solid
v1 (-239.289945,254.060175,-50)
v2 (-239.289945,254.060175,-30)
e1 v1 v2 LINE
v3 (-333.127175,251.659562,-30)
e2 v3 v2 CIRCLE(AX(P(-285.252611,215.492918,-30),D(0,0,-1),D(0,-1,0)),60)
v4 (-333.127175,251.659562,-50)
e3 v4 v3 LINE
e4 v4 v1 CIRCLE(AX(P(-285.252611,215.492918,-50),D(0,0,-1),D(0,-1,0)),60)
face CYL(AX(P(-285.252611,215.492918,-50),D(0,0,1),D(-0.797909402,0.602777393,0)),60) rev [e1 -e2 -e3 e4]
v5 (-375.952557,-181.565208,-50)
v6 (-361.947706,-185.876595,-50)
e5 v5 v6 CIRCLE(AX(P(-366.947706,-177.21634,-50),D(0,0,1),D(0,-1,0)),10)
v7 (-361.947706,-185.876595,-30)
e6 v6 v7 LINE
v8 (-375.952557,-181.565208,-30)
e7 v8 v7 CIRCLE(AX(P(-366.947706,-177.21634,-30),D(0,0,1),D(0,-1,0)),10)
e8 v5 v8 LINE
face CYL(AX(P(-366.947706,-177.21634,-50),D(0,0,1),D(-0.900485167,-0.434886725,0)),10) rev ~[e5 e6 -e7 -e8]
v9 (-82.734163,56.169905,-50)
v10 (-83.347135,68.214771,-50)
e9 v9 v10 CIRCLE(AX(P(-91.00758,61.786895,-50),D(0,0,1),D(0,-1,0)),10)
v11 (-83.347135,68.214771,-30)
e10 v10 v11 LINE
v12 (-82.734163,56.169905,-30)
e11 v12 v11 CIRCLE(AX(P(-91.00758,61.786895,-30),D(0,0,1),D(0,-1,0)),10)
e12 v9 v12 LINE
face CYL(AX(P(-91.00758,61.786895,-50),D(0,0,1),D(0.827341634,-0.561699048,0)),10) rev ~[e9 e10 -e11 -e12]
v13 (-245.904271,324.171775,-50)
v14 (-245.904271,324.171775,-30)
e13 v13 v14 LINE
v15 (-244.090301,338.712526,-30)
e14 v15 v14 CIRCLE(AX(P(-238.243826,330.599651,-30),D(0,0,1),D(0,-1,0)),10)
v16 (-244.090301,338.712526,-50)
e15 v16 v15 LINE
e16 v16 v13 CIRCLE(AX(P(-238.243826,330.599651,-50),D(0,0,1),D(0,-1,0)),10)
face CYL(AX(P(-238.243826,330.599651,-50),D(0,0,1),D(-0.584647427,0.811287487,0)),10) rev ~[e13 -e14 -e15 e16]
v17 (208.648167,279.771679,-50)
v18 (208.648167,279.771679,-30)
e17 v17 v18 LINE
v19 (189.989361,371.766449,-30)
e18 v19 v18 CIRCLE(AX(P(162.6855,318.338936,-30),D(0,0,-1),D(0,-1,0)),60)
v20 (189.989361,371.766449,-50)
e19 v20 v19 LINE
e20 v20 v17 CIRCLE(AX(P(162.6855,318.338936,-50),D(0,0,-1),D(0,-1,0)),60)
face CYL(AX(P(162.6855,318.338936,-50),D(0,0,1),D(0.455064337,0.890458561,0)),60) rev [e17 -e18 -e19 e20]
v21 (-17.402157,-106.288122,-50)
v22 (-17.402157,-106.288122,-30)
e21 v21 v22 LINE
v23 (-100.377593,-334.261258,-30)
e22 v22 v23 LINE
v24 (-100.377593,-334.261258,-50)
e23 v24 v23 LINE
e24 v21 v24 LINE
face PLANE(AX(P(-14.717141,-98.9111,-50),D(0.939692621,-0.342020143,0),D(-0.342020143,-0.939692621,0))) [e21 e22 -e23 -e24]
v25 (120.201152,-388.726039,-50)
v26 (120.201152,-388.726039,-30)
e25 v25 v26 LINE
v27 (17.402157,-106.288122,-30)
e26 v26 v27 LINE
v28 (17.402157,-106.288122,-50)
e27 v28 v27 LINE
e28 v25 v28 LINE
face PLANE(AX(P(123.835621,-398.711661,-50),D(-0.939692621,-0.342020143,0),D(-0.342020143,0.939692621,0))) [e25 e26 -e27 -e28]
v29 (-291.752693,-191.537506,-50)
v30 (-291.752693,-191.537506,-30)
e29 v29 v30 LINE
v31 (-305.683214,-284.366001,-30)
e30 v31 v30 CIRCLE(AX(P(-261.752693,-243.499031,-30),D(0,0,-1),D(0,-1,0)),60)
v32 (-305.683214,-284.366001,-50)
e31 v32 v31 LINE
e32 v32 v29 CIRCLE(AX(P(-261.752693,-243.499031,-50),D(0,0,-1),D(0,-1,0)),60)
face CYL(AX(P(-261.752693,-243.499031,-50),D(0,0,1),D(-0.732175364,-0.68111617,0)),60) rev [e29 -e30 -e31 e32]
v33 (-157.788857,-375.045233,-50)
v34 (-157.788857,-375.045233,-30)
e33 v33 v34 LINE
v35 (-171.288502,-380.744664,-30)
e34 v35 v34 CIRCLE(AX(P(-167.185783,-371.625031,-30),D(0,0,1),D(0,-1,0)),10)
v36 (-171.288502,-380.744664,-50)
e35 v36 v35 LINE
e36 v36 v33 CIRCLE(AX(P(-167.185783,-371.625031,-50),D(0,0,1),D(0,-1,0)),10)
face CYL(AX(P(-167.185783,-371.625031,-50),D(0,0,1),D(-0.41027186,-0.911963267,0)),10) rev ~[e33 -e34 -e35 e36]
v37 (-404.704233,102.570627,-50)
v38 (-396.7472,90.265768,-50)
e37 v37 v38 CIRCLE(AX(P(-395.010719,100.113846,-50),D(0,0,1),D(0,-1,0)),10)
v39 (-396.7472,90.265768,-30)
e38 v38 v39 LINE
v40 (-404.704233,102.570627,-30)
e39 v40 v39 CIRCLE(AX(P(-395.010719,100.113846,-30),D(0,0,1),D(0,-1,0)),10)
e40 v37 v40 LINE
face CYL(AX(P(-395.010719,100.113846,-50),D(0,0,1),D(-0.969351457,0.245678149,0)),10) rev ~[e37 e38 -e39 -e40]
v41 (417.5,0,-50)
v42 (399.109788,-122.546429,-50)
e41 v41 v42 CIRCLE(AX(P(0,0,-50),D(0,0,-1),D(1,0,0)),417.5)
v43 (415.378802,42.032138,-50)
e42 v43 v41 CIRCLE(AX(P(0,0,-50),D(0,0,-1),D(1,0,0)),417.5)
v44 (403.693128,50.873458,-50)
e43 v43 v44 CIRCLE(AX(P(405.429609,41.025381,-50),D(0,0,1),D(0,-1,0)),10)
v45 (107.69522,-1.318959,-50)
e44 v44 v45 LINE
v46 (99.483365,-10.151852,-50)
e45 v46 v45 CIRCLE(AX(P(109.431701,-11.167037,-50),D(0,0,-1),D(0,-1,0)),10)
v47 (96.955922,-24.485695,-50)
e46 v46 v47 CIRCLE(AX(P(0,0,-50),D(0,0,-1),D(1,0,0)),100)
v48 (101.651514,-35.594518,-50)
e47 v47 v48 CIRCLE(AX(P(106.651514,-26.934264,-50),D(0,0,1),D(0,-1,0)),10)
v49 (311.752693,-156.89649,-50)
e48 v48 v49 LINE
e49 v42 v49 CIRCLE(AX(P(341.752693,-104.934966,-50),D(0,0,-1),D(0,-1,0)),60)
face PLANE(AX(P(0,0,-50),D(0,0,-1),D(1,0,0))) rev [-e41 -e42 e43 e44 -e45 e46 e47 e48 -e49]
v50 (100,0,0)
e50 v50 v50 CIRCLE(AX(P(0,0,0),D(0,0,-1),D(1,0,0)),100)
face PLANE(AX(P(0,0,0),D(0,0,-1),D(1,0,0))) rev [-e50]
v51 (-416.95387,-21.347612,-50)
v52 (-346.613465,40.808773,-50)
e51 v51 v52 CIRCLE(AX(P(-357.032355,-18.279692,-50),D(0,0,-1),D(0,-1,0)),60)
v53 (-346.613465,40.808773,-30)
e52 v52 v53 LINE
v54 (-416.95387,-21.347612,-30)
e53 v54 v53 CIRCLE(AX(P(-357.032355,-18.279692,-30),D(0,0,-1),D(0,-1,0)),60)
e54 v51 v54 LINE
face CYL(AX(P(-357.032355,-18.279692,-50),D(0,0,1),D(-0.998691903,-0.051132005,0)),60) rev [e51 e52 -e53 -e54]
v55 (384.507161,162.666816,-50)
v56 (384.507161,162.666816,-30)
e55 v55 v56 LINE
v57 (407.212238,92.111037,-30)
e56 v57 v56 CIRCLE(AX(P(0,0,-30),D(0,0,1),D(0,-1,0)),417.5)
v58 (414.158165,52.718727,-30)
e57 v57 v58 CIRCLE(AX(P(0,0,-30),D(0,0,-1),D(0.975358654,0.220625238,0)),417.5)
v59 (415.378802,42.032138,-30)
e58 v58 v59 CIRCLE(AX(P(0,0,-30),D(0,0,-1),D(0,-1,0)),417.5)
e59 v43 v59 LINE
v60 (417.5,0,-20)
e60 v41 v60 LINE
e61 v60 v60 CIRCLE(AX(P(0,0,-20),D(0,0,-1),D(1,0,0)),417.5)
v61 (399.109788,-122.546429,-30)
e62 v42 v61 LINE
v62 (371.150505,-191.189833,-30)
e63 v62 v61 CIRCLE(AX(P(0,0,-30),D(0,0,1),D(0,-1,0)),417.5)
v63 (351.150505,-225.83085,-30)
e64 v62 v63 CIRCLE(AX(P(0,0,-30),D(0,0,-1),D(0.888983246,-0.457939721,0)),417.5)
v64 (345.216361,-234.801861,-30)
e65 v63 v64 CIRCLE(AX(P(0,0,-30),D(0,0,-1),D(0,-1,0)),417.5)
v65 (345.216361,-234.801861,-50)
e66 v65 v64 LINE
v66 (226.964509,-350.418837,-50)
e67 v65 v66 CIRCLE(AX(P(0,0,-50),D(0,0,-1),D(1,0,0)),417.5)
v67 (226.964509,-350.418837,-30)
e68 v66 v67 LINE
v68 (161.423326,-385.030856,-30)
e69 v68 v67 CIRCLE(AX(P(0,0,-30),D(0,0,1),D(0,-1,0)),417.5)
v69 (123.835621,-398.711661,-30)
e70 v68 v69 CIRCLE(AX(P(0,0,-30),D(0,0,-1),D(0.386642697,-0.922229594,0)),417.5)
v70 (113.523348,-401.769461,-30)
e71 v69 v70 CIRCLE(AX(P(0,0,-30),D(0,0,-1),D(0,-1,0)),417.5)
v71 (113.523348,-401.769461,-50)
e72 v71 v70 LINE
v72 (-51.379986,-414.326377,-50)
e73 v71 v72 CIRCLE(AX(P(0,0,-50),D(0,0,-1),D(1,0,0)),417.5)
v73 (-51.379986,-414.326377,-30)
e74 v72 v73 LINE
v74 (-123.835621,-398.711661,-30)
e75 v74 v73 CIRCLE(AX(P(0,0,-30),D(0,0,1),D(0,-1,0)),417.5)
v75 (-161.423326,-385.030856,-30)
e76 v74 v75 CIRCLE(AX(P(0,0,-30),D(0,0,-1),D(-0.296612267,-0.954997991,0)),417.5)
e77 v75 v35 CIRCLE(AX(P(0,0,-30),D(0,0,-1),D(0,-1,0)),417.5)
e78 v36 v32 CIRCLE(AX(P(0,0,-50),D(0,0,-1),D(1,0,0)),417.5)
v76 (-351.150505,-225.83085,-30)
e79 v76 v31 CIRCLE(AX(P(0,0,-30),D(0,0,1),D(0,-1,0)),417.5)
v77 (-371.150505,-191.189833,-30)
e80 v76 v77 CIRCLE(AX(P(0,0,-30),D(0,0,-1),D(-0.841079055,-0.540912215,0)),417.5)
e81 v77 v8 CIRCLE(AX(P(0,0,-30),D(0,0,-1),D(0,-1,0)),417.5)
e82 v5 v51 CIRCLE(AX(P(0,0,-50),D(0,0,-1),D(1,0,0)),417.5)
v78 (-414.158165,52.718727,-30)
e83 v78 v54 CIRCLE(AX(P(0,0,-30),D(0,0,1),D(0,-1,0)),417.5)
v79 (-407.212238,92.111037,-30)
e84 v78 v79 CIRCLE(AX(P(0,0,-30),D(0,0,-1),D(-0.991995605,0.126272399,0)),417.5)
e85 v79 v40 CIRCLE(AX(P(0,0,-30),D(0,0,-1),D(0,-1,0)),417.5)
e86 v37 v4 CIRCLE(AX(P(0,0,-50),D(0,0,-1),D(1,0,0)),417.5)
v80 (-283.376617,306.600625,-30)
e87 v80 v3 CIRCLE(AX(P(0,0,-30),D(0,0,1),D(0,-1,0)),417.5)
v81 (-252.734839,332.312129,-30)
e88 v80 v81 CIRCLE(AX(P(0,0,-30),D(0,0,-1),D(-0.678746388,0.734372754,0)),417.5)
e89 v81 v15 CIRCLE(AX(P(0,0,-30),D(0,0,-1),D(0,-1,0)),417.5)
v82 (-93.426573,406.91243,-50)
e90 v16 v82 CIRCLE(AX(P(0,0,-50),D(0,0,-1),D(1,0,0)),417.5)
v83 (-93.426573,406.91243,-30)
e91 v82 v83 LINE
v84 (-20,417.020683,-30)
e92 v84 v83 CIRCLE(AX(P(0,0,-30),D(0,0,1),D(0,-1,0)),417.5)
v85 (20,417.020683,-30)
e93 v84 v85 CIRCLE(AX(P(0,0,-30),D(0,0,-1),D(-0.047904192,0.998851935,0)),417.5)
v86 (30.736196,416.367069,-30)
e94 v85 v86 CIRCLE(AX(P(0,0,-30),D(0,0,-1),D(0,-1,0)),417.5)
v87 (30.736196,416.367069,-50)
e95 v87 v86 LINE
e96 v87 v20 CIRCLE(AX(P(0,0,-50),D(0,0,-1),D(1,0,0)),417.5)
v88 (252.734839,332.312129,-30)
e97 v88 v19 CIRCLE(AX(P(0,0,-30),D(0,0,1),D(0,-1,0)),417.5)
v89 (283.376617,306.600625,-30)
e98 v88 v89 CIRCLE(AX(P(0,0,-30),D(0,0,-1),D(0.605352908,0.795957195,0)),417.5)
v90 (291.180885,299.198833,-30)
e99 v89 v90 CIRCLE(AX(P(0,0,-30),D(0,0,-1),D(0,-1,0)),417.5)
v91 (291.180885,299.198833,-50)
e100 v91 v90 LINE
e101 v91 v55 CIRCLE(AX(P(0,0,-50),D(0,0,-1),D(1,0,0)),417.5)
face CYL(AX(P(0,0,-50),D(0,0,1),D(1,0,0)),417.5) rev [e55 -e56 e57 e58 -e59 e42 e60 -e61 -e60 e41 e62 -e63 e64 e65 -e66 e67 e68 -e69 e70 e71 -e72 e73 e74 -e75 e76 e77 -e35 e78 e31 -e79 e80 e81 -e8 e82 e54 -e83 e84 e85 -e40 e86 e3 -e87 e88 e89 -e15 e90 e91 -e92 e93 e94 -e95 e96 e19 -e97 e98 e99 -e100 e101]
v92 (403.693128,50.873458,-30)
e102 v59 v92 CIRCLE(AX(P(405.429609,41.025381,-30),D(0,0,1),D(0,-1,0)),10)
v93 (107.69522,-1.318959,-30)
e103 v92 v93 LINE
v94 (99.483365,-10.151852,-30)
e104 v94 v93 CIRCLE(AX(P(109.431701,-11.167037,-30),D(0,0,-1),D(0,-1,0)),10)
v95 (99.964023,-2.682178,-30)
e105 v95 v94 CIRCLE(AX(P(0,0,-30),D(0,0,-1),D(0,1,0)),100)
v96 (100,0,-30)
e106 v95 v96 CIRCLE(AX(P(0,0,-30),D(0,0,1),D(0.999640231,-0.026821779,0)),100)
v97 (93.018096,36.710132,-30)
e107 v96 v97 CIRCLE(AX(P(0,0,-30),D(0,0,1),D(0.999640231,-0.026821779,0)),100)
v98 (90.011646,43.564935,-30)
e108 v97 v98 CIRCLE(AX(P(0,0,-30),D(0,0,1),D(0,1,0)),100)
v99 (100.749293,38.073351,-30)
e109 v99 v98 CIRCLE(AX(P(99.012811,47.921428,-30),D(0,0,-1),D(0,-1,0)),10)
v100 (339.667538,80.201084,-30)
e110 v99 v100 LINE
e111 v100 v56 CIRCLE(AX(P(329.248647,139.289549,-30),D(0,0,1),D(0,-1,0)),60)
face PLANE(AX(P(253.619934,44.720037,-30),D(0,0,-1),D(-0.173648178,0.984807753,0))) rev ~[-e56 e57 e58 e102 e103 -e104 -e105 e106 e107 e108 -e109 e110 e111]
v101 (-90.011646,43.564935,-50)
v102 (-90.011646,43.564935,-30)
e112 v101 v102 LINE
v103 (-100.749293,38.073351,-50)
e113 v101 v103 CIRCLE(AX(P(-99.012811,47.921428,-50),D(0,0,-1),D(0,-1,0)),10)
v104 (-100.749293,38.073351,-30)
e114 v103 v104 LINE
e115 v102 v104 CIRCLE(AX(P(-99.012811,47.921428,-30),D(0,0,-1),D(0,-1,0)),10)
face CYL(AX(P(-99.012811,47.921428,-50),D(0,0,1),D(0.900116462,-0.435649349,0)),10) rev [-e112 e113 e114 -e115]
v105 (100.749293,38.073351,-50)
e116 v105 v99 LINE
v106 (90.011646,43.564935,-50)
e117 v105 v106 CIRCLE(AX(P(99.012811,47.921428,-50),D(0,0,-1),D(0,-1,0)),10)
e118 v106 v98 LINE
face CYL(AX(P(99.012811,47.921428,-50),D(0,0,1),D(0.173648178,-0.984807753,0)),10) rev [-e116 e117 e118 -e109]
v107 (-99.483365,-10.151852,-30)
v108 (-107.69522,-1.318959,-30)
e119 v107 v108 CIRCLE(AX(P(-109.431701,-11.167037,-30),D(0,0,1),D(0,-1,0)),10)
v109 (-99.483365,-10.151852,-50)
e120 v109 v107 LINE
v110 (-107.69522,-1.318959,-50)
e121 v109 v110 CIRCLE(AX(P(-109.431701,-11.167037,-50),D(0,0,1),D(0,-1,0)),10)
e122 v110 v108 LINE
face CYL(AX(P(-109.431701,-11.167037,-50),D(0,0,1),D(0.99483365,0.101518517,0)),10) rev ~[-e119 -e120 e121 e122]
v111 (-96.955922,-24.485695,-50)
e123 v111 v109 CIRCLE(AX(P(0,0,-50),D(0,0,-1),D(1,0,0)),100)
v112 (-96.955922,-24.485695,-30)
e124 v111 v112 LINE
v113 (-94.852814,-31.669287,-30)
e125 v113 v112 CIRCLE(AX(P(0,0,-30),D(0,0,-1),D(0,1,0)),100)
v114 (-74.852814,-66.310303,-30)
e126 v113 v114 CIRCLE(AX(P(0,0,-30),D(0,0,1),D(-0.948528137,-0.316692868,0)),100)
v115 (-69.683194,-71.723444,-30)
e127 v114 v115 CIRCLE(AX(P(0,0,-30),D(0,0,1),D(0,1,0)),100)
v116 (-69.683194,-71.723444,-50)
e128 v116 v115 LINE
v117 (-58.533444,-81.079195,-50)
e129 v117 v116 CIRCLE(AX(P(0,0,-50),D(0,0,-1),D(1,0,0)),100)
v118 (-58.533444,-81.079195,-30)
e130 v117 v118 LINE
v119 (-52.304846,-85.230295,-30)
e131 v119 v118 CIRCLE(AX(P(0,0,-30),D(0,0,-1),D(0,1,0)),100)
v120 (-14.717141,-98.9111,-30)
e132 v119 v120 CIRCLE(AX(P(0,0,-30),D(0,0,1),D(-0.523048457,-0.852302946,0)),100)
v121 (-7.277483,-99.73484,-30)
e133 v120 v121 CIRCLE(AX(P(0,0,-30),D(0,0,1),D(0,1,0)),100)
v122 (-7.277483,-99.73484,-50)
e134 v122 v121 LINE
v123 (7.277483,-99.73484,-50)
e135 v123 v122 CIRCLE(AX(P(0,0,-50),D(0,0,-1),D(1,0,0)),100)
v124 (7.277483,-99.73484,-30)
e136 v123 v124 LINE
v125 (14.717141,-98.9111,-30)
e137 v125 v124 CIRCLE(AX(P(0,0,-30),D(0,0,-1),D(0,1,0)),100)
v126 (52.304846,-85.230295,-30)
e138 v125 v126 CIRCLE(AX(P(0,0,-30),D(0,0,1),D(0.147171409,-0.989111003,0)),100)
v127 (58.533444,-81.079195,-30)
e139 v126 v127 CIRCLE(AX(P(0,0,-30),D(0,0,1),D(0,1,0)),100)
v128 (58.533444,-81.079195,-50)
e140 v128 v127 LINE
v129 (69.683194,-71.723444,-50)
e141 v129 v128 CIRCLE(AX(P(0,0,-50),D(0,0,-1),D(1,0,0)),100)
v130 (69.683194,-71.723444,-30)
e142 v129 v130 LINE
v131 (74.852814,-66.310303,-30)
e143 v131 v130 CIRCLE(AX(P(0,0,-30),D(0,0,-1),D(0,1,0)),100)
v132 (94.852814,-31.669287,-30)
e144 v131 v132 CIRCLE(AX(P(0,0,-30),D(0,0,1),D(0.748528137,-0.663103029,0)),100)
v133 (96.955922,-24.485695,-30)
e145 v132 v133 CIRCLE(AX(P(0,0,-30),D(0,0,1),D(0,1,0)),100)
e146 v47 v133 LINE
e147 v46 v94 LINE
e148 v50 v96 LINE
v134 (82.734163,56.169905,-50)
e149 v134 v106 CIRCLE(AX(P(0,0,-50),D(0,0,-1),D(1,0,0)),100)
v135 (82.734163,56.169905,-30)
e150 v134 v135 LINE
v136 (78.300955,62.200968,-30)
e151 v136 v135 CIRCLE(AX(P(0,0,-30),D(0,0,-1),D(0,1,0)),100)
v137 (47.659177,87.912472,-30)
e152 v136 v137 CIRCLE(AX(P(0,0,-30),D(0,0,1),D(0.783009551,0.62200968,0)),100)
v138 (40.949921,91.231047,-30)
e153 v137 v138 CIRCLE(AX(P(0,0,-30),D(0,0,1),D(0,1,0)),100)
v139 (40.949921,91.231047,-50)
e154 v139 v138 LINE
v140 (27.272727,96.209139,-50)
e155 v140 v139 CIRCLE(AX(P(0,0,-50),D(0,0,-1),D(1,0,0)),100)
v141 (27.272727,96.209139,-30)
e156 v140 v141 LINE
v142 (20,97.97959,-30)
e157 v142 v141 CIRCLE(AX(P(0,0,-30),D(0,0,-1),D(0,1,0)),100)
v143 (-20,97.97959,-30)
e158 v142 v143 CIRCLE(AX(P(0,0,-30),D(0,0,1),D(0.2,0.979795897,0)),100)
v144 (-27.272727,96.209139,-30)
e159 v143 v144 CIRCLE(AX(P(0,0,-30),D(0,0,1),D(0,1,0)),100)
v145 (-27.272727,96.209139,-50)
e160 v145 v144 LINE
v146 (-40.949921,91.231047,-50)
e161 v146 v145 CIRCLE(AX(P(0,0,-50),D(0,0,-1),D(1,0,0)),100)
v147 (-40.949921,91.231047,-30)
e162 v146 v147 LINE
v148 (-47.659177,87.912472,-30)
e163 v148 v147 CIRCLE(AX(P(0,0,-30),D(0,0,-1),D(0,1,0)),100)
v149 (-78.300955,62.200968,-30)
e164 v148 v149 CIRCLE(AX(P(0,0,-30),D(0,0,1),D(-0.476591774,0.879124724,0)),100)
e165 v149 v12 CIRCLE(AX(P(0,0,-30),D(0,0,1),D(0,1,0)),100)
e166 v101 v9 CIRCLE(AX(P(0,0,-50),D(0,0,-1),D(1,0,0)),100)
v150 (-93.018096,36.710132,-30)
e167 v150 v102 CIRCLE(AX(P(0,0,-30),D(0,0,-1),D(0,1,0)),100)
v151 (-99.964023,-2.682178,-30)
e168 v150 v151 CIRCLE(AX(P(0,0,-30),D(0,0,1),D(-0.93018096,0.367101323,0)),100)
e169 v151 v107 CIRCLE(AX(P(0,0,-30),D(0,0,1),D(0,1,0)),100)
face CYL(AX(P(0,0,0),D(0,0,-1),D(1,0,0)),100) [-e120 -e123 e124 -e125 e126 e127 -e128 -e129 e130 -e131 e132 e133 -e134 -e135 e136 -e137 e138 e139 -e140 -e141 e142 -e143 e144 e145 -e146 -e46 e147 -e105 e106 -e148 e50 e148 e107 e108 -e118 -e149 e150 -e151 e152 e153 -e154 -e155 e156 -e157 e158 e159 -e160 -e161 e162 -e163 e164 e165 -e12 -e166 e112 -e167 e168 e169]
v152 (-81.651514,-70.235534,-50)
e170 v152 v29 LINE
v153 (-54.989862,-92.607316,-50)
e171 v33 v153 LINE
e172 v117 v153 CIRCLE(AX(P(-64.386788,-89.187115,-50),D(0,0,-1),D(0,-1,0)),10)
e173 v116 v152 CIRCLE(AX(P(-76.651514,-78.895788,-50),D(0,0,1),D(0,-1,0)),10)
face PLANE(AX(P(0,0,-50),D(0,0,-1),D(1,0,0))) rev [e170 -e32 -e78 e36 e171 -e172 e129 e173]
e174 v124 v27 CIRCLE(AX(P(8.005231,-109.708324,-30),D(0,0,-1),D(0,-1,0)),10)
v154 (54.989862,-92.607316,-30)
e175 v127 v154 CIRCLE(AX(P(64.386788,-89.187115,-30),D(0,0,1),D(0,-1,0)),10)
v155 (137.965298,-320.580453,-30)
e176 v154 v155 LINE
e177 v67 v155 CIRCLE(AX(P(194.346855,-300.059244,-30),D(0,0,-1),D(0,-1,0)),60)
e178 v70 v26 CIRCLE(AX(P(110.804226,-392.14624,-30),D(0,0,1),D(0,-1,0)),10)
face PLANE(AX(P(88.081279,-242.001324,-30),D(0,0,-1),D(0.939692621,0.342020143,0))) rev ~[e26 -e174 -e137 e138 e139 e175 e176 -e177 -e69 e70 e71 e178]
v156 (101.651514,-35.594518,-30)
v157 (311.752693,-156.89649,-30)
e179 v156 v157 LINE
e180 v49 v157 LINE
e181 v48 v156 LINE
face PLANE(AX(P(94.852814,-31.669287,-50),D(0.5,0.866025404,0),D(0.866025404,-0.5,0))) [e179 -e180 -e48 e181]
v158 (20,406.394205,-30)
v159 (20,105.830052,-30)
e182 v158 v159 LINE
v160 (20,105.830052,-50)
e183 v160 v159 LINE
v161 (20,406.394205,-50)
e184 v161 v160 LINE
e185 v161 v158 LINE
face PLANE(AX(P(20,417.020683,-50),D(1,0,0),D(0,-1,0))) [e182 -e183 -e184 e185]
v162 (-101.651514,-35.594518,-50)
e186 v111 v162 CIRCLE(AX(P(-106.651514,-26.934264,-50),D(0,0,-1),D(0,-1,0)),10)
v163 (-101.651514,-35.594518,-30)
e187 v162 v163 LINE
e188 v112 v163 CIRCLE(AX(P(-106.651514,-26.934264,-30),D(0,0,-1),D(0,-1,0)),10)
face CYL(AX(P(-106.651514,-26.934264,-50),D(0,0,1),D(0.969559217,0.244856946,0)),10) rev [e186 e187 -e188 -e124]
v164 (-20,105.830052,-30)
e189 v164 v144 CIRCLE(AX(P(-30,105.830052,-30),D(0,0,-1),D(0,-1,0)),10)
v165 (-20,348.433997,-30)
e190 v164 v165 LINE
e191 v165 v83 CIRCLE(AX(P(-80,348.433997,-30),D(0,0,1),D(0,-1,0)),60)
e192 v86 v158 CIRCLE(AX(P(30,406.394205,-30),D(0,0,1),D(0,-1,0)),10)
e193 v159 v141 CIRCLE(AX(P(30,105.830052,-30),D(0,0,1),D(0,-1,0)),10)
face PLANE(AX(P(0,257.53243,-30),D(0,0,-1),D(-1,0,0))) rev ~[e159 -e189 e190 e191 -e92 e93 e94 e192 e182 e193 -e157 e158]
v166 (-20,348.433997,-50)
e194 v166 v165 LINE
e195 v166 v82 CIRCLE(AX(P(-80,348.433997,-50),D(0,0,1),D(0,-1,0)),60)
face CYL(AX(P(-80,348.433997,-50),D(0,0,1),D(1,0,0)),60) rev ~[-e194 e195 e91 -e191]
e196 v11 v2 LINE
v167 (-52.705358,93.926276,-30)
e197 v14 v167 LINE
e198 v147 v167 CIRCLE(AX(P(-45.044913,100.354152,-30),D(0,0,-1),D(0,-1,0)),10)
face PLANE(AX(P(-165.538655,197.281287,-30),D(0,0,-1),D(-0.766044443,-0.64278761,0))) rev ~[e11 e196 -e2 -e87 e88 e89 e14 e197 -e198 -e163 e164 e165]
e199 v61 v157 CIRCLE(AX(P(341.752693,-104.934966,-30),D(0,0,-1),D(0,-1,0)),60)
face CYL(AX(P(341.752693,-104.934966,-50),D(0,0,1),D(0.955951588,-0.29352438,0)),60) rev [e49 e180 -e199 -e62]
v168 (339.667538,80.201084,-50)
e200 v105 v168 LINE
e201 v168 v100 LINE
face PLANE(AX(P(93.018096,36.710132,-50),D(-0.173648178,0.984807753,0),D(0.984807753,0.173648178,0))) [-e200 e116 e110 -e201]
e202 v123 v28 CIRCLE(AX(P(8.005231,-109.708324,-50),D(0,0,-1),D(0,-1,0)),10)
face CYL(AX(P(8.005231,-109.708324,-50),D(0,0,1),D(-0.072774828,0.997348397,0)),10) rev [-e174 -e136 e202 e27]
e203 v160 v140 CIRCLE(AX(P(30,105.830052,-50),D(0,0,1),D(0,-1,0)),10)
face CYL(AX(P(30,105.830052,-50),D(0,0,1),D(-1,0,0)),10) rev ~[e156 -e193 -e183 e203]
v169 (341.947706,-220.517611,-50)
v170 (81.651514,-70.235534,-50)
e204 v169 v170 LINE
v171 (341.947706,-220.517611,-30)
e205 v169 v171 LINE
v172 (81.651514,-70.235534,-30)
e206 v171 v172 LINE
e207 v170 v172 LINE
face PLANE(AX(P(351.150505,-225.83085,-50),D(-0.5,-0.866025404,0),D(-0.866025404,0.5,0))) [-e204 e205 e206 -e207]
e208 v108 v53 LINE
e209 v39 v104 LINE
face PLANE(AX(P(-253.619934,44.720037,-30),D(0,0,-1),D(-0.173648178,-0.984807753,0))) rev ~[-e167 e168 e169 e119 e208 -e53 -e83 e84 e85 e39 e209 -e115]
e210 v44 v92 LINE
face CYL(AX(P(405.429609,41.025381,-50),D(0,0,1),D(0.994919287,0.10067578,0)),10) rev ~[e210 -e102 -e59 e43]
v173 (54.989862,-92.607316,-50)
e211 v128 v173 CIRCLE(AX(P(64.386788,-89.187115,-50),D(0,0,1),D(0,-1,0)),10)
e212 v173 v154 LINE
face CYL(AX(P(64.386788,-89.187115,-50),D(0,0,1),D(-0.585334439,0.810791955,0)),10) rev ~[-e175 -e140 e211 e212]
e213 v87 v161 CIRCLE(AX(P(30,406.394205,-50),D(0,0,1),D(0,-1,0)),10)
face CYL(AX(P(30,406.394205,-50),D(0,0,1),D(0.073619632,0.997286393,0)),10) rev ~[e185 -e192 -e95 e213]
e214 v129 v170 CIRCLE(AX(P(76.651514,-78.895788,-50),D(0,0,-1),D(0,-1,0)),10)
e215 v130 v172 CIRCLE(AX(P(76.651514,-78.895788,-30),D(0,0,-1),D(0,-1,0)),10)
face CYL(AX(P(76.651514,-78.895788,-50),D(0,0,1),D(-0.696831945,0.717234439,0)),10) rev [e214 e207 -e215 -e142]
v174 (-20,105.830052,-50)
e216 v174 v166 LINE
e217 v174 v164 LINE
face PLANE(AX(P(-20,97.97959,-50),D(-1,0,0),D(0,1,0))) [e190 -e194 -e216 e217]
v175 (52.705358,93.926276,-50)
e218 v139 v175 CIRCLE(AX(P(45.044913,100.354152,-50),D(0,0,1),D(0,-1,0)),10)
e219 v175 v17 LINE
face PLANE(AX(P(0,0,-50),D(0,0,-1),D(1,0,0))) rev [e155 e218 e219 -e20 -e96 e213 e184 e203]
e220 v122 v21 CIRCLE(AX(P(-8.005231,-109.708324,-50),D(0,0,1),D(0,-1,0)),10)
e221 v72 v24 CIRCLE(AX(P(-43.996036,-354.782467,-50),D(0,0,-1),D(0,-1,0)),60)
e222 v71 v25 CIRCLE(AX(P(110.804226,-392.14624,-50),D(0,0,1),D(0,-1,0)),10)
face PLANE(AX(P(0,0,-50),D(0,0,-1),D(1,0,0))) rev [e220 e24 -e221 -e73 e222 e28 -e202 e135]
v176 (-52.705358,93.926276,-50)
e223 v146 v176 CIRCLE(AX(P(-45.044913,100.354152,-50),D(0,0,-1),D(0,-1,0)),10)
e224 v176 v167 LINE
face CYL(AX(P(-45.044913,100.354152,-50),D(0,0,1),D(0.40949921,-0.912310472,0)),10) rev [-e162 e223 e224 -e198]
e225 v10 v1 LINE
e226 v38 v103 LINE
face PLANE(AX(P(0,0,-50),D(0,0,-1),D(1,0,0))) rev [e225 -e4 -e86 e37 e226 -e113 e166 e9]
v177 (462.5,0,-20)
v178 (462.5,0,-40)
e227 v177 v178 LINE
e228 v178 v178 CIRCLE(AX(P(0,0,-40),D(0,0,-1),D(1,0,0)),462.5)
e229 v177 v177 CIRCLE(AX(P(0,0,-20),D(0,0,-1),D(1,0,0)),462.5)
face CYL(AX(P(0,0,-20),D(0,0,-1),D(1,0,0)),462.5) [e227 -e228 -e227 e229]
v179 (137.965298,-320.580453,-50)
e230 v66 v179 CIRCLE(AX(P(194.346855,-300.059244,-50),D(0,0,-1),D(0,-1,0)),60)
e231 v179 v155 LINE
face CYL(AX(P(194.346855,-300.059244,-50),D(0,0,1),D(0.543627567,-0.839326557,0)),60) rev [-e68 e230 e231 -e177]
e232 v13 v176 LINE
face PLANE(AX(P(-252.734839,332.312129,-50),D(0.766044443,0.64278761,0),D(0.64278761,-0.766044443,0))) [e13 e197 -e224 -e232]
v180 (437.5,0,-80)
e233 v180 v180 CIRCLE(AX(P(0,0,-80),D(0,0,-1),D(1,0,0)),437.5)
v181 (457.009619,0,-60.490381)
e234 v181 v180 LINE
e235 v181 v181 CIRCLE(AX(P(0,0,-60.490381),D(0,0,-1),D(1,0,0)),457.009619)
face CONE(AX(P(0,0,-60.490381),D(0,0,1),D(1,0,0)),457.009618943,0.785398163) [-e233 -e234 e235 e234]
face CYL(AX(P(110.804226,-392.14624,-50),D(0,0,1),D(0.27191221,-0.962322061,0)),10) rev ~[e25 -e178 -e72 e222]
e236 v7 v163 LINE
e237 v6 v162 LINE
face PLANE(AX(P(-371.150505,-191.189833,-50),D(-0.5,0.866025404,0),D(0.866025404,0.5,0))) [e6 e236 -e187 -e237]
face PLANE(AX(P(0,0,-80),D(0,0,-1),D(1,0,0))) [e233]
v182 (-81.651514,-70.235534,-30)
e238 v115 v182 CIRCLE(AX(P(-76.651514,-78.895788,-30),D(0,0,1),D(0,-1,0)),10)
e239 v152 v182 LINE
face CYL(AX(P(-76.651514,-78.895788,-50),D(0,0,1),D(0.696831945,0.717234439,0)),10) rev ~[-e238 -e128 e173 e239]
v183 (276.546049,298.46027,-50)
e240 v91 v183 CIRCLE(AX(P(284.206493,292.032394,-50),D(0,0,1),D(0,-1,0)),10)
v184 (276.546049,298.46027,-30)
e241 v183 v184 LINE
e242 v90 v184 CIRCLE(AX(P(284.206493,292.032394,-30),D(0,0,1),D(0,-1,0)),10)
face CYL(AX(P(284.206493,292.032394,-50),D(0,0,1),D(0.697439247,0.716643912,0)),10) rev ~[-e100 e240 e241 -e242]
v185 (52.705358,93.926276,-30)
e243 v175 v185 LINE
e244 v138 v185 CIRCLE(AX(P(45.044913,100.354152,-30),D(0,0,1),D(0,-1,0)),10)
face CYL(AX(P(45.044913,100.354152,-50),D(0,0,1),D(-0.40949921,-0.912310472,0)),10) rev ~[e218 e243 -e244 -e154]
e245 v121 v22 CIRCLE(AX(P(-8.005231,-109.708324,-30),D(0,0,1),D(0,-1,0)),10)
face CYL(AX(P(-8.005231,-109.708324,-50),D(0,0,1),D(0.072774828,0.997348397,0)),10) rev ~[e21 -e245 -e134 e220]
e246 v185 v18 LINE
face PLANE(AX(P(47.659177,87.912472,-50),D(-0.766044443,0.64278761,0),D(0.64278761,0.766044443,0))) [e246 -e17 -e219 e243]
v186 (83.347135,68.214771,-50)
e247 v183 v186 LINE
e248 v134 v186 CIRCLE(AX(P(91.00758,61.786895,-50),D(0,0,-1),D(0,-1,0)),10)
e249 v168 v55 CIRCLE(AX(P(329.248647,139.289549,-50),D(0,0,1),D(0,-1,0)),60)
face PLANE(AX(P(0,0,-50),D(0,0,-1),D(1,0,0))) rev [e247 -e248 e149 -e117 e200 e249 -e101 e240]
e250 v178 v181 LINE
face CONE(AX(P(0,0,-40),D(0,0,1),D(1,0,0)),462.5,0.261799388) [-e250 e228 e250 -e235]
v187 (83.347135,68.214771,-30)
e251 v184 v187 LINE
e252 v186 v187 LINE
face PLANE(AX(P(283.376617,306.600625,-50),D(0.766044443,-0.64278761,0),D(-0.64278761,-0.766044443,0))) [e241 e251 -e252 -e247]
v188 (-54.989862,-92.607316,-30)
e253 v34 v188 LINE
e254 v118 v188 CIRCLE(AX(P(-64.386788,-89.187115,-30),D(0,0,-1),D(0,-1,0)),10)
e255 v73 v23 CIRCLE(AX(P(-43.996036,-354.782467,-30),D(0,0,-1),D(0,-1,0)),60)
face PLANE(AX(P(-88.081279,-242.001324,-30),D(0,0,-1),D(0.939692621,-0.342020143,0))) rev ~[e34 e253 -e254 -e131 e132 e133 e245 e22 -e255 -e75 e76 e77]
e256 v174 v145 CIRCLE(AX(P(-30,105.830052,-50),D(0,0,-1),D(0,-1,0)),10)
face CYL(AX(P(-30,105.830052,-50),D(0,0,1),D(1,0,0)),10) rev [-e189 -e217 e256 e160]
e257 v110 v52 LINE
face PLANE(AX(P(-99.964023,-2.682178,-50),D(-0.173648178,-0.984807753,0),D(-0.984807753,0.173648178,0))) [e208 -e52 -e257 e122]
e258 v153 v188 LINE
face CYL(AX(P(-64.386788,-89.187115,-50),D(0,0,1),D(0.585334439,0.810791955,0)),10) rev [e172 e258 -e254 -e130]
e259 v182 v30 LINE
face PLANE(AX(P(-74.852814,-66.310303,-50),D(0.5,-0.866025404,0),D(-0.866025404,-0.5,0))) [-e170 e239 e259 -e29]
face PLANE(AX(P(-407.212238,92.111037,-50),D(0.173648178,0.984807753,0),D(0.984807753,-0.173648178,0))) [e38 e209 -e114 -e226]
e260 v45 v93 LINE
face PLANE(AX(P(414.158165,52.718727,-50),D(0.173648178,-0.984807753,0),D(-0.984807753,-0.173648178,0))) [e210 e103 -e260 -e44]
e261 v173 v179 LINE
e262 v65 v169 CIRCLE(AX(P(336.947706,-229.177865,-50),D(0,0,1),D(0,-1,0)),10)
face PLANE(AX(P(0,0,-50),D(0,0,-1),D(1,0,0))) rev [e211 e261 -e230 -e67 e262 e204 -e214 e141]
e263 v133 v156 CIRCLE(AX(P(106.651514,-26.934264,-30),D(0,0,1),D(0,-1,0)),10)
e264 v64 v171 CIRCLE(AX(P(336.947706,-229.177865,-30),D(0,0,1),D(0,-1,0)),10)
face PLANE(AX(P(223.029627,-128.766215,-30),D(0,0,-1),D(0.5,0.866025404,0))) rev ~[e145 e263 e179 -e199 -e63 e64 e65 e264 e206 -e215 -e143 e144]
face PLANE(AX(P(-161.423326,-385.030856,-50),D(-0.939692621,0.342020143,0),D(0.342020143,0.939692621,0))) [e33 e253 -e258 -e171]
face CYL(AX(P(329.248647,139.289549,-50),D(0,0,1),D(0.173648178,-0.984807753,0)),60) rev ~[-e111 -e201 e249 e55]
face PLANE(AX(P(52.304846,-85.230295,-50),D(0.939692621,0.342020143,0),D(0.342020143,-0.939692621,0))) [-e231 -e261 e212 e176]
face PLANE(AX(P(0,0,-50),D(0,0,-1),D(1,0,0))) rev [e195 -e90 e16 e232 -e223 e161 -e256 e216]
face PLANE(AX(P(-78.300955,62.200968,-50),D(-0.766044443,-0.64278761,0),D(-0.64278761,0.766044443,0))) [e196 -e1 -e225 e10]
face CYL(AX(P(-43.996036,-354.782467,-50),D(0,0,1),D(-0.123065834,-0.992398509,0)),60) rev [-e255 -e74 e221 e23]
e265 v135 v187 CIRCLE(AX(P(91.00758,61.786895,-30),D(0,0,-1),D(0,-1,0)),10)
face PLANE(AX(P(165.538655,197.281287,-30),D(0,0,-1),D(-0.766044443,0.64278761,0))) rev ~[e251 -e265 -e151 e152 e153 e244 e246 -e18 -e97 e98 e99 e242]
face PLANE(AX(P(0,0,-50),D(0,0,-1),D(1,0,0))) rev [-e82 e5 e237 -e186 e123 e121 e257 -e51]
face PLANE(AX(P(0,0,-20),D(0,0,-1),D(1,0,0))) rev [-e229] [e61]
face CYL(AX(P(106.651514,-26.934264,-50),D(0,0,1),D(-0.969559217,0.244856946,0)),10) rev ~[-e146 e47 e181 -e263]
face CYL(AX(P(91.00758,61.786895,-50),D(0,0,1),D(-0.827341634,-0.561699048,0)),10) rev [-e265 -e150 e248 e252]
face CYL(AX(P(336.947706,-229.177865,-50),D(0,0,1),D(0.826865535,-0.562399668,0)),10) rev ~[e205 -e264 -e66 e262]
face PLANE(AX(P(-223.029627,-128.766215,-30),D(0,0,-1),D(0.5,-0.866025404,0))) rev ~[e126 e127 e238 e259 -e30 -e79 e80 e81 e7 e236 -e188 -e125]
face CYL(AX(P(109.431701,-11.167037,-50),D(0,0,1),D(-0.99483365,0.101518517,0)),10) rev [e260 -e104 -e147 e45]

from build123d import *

# Parameters (mm, degrees)
BOSS_EXTRUDE1_DEPTH      = 20
FILLET1_R                = 60
FILLET2_R                = 10
CIRPATTERN1_COUNT        = 9
FILLET1_OF_CIRPATTERN1_R = 60
FILLET2_OF_CIRPATTERN1_R = 10


with BuildPart() as part:
    # Sketch1 → Revolve1 (revolve)
    with BuildSketch(Plane(origin=(0, 0, 0), x_dir=(0, 0, -1), z_dir=(1, 0, 0)), mode=Mode.PRIVATE) as revolve1_sk:
        Polygon((0, 0), (0, 100), (50, 100), (50, 417.5), (20, 417.5), (20, 462.5), (40, 462.5), (60.490381057, 457.009618943), (80, 437.5), (80, 0), align=None)
    revolve(revolve1_sk.sketch.rotate(Axis((0, 0, 404.979253112), (0, 0, -1)), 90), axis=Axis((0, 0, 404.979253112), (0, 0, -1)))

    # Sketch2 → Boss-Extrude1 (add)
    with BuildSketch(Plane.XY.offset(-50)):
        with BuildLine():
            Line((-20, 97.979589711), (-20, 417.02068294))
            ThreePointArc((-20, 417.02068294), (0, 417.5), (20, 417.02068294))
            Line((20, 417.02068294), (20, 97.979589711))
            ThreePointArc((20, 97.979589711), (0, 100), (-20, 97.979589711))
        make_face()
    boss_extrude1 = extrude(amount=BOSS_EXTRUDE1_DEPTH)

    # Fillet1
    fillet1_edges = [part.edges().sort_by_distance(p)[0] for p in [
        (-20, 417.02068294, -40),
    ]]
    fillet(fillet1_edges, radius=FILLET1_R)

    # Fillet2
    fillet2_edges = [part.edges().sort_by_distance(p)[0] for p in [
        (20, 417.02068294, -40),
        (20, 97.979589711, -40),
        (-20, 97.979589711, -40),
    ]]
    fillet(fillet2_edges, radius=FILLET2_R)

    # CirPattern1: Boss-Extrude1 ×9 about axis
    cirpattern1_axis = Axis((0, 0, 0), (0, 0, 1))
    for i in range(1, CIRPATTERN1_COUNT):
        add(boss_extrude1.rotate(cirpattern1_axis, i * 360 / CIRPATTERN1_COUNT))

    # Fillet1 of CirPattern1
    fillet1_of_cirpattern1_edges = [part.edges().sort_by_distance(p)[0] for p in [
        (-283.376616839, 306.600624638, -40),
        (-414.158165279, 52.718726582, -40),
        (-351.15050533, -225.830849546, -40),
        (-123.835621333, -398.711661341, -40),
        (161.423326165, -385.030855608, -40),
        (371.15050533, -191.189833394, -40),
        (407.212238173, 92.111036702, -40),
        (252.734839115, 332.312129026, -40),
    ]]
    fillet(fillet1_of_cirpattern1_edges, radius=FILLET1_OF_CIRPATTERN1_R)

    # Fillet2 of CirPattern1
    fillet2_of_cirpattern1_edges = [part.edges().sort_by_distance(p)[0] for p in [
        (-252.734839115, 332.312129026, -40),
        (-47.659177406, 87.912472431, -40),
        (-78.300955131, 62.200968044, -40),
        (-407.212238173, 92.111036702, -40),
        (-93.018096031, 36.710132262, -40),
        (-99.964023138, -2.682177858, -40),
        (-371.15050533, -191.189833394, -40),
        (-94.852813742, -31.66928678, -40),
        (-74.852813742, -66.310302931, -40),
        (-161.423326165, -385.030855608, -40),
        (-52.304845732, -85.230294573, -40),
        (-14.7171409, -98.911100306, -40),
        (123.835621333, -398.711661341, -40),
        (14.7171409, -98.911100306, -40),
        (52.304845732, -85.230294573, -40),
        (351.15050533, -225.830849546, -40),
        (74.852813742, -66.310302931, -40),
        (94.852813742, -31.66928678, -40),
        (414.158165279, 52.718726582, -40),
        (99.964023138, -2.682177858, -40),
        (93.018096031, 36.710132262, -40),
        (283.376616839, 306.600624638, -40),
        (78.300955131, 62.200968044, -40),
        (47.659177406, 87.912472431, -40),
    ]]
    fillet(fillet2_of_cirpattern1_edges, radius=FILLET2_OF_CIRPATTERN1_R)


solid = part.part
